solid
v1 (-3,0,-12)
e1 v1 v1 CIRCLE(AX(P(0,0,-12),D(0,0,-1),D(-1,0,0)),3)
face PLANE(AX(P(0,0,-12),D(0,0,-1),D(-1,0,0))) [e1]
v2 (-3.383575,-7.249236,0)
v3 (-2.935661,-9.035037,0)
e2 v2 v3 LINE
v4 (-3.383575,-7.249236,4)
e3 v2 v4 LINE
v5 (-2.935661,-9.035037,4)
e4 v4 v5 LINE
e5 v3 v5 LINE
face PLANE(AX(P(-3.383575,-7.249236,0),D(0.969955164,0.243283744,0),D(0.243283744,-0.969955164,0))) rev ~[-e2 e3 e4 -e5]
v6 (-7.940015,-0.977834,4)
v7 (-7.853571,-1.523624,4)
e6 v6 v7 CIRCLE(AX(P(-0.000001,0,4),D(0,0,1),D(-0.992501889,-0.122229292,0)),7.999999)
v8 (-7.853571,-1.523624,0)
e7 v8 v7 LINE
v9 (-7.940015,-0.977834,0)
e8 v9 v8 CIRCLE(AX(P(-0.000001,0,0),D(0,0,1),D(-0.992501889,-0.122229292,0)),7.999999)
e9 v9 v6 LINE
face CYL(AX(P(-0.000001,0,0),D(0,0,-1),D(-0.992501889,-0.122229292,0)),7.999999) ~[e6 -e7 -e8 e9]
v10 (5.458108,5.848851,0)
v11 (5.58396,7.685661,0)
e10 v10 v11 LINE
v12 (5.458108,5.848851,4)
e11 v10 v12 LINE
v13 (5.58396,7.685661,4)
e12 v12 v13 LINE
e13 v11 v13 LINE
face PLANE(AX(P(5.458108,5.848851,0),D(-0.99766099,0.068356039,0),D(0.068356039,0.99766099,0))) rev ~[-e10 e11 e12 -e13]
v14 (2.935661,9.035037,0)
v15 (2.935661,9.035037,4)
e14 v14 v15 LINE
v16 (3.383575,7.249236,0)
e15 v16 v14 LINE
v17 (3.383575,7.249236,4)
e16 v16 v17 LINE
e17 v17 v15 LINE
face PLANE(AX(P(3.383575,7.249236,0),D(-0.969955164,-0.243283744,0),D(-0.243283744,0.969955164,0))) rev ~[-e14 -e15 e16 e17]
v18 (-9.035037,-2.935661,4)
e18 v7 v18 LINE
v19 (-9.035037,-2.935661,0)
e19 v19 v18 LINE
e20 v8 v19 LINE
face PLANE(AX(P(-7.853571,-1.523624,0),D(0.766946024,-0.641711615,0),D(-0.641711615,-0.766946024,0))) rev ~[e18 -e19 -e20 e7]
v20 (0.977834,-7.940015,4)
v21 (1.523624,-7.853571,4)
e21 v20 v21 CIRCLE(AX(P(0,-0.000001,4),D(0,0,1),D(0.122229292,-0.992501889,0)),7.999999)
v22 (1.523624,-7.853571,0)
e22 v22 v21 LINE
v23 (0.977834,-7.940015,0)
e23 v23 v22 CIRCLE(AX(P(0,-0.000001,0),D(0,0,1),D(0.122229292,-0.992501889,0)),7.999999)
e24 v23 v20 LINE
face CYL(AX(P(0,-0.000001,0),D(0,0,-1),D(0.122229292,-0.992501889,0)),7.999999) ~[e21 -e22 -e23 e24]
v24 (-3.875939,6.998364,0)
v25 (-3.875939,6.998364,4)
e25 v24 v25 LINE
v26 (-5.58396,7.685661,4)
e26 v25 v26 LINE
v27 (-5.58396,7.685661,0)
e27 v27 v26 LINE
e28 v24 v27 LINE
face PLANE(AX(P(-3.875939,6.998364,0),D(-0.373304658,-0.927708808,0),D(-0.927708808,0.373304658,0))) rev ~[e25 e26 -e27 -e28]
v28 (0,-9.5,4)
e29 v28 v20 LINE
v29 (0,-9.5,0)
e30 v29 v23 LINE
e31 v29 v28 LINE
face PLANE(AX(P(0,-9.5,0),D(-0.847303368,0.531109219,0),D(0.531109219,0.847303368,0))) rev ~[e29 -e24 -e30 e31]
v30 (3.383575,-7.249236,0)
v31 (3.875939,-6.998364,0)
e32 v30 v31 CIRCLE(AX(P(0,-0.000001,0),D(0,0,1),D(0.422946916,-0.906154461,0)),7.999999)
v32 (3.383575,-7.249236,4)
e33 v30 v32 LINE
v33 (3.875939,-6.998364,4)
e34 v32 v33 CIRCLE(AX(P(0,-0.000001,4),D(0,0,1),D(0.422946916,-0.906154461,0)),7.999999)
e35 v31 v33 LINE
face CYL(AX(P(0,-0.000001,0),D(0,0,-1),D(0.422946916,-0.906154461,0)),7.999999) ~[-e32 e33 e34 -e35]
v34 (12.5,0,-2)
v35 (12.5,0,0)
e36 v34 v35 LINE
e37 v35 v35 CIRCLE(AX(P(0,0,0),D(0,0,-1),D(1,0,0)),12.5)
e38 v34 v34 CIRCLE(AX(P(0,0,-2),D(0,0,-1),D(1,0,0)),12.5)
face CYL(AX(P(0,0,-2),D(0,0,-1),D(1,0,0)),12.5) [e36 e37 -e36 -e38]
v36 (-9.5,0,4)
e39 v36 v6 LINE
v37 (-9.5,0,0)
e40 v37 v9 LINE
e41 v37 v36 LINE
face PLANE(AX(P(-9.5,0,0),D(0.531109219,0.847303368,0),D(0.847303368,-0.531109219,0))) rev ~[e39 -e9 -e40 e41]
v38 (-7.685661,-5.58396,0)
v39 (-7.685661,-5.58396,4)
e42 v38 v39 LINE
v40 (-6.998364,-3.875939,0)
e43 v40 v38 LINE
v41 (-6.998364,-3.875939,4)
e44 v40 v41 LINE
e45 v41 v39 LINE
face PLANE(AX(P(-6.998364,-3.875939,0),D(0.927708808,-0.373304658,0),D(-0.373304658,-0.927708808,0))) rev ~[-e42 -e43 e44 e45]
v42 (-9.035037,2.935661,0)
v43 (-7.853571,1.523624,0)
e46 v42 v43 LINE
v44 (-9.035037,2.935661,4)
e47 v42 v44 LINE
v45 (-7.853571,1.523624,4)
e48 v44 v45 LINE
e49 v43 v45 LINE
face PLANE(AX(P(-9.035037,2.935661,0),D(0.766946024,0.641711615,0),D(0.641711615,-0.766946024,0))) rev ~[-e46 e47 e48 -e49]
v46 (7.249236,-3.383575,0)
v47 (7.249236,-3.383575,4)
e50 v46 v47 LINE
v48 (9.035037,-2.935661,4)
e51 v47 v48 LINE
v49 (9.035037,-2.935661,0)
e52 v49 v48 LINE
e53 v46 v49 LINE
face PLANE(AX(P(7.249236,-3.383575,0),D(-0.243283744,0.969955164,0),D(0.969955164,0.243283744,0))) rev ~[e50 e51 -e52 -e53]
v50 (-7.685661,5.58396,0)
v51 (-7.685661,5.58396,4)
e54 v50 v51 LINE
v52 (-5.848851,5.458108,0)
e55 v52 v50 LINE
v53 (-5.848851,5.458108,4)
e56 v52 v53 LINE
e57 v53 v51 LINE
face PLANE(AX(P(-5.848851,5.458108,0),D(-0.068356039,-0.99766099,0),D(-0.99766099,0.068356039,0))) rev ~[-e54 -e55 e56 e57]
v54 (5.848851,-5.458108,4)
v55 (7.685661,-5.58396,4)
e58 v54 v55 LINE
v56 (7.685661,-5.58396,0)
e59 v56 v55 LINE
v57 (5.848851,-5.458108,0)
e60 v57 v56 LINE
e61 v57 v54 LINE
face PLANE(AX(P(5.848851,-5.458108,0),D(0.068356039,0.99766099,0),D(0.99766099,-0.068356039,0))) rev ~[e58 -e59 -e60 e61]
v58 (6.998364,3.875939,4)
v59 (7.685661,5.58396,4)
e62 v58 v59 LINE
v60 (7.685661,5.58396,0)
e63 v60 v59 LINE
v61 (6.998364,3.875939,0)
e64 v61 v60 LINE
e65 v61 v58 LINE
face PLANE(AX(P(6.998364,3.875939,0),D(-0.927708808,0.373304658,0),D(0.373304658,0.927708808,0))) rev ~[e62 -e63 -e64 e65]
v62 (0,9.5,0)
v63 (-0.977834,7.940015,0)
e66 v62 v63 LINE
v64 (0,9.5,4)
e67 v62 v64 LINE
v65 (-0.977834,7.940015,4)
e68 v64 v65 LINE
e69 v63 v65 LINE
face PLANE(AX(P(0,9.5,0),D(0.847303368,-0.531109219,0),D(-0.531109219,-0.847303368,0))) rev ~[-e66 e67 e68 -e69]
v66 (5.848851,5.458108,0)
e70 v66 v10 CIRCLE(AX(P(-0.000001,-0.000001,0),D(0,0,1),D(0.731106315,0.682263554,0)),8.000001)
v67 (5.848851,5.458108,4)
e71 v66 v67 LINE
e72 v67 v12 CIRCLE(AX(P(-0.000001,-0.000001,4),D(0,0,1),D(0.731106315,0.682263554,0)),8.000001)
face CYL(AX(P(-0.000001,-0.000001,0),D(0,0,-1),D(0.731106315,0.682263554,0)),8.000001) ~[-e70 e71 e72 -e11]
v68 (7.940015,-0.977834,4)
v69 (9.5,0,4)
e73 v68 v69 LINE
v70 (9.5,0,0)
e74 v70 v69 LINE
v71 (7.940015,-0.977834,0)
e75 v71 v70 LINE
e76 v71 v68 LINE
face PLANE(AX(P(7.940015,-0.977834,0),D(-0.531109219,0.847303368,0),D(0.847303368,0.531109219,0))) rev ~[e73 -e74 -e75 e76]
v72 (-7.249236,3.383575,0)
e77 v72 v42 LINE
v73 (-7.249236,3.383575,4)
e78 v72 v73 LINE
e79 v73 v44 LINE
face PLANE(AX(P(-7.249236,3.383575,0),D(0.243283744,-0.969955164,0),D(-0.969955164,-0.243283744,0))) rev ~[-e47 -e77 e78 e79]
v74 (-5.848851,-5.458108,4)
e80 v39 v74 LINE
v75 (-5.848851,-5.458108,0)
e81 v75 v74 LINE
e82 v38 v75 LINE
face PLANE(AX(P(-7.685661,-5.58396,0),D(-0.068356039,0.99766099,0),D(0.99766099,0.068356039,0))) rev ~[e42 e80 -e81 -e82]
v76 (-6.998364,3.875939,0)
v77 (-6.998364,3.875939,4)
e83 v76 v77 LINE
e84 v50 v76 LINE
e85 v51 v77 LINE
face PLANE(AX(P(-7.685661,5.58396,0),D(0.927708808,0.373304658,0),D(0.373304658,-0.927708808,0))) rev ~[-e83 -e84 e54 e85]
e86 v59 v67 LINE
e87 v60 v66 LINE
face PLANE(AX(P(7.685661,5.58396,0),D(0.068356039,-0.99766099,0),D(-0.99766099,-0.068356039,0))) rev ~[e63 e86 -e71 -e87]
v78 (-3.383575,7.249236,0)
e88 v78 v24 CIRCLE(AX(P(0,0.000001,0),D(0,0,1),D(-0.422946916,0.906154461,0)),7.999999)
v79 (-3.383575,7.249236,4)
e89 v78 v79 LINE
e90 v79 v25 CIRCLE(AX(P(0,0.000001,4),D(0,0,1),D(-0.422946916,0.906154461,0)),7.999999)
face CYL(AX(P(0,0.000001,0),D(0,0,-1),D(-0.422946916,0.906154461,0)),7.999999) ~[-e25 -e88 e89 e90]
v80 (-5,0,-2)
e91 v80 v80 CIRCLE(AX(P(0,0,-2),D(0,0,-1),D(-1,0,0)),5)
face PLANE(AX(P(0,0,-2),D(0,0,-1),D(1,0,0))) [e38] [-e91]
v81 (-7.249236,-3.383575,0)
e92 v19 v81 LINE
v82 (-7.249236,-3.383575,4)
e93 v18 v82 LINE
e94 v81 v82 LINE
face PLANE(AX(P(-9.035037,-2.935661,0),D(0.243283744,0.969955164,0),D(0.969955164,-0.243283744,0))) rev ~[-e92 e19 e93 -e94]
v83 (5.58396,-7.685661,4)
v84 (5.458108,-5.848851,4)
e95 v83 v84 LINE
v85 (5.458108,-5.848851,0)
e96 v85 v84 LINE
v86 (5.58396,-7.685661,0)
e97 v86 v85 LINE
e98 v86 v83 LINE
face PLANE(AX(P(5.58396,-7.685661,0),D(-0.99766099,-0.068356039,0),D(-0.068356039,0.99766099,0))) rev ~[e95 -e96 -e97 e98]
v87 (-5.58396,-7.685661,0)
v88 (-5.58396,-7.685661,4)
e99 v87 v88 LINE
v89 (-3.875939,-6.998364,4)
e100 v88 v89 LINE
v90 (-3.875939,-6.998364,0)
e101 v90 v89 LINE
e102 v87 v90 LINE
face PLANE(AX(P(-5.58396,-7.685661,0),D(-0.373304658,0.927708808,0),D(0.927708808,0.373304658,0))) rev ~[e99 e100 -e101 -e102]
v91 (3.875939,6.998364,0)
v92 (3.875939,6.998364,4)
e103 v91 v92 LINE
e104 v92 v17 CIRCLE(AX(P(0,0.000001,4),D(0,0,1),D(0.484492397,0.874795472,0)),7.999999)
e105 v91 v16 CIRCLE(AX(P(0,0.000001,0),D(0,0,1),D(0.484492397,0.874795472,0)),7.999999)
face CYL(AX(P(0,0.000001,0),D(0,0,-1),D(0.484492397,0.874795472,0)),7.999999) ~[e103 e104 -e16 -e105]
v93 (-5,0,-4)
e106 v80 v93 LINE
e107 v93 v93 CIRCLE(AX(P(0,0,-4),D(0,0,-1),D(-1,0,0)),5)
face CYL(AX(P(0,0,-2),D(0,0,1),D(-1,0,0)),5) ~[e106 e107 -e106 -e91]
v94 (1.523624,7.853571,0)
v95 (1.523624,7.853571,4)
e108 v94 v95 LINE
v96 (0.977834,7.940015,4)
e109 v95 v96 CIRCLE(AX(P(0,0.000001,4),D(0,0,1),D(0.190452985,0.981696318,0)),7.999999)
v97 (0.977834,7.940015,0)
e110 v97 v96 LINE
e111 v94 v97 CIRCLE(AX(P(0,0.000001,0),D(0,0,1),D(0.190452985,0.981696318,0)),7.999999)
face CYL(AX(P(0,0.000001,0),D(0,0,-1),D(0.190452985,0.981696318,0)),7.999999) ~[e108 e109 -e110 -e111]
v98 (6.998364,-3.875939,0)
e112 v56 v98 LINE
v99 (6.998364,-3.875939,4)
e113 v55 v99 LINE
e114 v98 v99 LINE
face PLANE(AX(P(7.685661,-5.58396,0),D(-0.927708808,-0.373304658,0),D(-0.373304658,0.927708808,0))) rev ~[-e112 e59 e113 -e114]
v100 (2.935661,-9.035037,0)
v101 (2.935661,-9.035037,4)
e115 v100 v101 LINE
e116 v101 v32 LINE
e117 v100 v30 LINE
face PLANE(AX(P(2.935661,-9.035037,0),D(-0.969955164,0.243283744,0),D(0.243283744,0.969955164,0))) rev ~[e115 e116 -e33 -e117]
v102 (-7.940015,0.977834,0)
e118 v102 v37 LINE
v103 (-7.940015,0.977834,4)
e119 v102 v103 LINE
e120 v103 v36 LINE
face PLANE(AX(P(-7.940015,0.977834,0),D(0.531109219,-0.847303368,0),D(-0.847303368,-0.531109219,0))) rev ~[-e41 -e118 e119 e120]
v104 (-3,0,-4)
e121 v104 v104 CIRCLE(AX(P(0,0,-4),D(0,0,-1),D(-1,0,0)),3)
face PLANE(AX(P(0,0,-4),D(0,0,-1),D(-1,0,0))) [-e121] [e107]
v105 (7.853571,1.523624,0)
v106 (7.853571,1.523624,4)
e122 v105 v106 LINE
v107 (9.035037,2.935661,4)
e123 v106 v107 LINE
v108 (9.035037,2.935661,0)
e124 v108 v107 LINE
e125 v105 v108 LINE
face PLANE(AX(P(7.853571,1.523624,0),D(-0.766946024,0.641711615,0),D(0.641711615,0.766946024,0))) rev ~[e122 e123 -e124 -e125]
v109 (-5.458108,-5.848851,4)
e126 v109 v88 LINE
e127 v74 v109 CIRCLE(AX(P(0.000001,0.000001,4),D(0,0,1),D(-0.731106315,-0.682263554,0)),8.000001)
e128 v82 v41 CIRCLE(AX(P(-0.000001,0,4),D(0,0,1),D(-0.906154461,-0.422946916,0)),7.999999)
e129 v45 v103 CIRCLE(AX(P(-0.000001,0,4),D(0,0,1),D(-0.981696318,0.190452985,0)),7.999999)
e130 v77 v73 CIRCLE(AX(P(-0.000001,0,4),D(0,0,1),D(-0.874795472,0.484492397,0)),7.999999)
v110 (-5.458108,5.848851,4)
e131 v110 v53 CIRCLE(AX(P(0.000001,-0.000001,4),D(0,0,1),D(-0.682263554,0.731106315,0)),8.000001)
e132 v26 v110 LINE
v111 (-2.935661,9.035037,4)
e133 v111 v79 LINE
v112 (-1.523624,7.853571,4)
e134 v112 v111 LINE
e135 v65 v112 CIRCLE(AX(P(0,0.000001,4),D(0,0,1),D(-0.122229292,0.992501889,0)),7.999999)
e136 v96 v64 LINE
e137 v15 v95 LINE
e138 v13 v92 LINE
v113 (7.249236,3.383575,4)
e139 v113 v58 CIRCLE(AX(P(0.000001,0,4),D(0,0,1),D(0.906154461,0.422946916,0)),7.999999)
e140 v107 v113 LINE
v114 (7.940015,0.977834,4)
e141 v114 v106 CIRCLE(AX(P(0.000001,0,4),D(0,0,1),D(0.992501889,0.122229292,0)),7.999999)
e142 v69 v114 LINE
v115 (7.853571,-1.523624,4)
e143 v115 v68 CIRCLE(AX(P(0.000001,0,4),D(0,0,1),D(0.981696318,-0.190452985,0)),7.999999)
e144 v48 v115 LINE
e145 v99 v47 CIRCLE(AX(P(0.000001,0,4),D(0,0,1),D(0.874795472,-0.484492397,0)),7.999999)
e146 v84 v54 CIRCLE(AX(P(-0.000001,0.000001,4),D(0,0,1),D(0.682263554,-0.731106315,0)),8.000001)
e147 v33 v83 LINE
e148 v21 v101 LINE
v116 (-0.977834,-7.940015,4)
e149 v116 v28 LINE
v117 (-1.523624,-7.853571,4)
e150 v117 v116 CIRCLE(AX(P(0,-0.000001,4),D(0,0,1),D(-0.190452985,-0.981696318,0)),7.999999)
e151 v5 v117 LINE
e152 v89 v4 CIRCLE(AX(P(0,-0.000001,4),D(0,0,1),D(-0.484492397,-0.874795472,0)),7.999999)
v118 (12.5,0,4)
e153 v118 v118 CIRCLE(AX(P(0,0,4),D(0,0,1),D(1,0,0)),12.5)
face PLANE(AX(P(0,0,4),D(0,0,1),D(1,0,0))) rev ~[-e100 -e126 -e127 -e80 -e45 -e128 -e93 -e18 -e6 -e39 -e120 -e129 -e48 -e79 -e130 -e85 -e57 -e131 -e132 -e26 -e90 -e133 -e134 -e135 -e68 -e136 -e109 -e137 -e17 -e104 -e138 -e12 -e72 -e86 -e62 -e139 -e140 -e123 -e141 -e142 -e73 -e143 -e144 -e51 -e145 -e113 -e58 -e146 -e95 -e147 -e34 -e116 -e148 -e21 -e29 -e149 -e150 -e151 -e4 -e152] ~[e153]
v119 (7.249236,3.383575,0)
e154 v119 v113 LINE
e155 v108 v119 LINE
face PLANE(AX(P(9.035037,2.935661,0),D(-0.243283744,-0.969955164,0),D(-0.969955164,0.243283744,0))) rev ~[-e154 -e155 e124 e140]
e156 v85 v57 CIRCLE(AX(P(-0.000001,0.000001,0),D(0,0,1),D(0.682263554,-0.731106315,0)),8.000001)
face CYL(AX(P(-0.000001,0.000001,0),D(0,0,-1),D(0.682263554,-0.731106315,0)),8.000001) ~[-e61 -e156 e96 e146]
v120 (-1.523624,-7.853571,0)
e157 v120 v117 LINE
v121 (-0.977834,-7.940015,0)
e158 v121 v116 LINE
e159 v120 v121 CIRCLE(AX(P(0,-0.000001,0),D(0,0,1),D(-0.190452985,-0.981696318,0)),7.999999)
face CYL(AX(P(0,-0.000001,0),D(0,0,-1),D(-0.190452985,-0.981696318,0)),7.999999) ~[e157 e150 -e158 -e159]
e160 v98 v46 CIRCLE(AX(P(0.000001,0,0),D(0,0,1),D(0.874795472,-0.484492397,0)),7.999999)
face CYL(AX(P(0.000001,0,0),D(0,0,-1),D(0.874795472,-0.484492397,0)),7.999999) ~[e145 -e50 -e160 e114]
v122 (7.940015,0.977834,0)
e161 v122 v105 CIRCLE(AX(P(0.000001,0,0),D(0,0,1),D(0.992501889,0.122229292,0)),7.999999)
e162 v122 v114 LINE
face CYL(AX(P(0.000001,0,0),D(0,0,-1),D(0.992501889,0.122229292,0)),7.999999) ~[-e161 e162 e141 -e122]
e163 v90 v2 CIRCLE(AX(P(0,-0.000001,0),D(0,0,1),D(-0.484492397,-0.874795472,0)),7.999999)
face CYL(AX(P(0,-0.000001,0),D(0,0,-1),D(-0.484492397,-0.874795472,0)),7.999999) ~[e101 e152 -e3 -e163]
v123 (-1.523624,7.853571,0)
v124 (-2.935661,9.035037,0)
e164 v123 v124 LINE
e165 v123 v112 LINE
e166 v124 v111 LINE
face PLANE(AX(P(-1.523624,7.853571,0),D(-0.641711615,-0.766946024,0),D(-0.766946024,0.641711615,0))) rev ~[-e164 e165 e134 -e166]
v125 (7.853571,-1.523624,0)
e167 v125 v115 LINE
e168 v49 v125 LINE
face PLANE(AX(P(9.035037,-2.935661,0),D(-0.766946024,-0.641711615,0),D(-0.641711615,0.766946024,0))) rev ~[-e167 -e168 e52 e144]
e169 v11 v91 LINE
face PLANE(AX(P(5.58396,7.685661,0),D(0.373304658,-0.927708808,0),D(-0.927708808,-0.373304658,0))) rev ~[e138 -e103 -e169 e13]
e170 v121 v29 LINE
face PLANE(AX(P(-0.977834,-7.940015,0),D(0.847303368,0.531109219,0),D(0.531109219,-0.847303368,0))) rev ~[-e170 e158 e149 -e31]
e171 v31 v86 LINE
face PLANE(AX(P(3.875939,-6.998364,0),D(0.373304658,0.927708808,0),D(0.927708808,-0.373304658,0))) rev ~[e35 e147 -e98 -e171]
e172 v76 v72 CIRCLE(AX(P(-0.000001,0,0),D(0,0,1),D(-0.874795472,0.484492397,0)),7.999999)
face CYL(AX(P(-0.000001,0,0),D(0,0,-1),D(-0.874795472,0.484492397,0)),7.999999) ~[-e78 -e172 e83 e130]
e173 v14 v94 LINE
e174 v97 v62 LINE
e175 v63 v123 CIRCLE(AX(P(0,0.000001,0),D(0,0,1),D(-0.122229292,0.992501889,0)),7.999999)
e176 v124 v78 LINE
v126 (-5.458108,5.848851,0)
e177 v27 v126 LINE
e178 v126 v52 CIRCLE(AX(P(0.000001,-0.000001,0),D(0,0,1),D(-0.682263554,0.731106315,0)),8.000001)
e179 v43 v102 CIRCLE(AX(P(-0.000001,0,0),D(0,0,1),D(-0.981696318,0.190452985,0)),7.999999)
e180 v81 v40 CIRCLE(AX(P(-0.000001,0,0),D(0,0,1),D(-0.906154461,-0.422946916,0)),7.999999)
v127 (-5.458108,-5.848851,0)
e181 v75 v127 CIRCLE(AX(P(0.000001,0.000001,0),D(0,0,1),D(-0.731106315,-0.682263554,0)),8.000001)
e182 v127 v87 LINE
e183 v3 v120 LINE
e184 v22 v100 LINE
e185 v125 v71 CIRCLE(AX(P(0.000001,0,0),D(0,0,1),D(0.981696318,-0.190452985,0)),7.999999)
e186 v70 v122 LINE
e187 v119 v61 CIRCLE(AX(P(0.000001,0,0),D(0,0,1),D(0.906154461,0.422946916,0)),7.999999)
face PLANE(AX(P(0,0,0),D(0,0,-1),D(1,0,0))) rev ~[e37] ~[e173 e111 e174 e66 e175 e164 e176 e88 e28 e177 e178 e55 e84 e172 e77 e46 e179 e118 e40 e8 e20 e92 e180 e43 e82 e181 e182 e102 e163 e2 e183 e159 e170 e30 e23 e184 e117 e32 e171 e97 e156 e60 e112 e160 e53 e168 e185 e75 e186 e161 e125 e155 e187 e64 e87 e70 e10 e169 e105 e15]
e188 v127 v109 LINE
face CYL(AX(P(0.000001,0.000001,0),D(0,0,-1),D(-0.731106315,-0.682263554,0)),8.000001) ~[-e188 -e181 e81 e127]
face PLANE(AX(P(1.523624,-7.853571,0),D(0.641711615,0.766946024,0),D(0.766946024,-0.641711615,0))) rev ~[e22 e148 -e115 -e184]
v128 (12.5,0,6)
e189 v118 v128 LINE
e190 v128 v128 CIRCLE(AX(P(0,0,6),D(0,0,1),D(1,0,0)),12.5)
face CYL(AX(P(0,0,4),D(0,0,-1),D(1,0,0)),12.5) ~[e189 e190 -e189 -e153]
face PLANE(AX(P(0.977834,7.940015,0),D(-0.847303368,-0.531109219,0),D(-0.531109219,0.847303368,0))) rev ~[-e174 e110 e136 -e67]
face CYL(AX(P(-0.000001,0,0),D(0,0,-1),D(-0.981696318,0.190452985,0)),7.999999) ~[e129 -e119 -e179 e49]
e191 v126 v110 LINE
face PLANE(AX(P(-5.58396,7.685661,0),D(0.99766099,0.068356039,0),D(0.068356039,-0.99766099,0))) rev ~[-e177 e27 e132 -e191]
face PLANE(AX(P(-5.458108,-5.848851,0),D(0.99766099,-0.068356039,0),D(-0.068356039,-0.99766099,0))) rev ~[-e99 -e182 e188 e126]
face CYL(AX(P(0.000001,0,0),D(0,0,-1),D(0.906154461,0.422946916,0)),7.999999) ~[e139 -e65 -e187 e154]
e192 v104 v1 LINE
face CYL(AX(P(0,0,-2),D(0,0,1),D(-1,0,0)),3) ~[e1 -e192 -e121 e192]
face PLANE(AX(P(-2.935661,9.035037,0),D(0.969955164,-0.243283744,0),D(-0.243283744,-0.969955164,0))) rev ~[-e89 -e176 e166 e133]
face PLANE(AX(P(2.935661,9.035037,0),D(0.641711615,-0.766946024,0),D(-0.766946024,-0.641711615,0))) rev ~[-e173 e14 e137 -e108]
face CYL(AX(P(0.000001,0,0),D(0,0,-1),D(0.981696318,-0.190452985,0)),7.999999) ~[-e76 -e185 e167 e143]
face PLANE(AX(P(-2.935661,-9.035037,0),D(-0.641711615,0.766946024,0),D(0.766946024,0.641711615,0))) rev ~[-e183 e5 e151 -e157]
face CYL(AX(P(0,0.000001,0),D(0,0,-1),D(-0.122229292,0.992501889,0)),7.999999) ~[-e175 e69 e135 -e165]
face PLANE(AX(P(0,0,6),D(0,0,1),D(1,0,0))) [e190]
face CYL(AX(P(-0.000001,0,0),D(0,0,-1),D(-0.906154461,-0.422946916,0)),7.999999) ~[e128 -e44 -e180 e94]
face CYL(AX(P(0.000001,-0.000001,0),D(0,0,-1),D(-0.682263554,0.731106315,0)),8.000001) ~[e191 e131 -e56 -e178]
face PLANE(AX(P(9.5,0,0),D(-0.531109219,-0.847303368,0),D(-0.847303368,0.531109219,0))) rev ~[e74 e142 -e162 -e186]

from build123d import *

# Parameters (mm, degrees)
BOSS_EXTRUDE1_DEPTH = 4
SKETCH3_R           = 12.5
BOSS_EXTRUDE2_DEPTH = 2
BOSS_EXTRUDE3_START = 2
SKETCH4_R           = 12.5
BOSS_EXTRUDE3_DEPTH = 2
SKETCH5_R           = 3
BOSS_EXTRUDE4_DEPTH = 10
SKETCH6_R           = 5
SKETCH6_R_2         = 3
BOSS_EXTRUDE5_DEPTH = 2


with BuildPart() as part:
    # Sketch2 → Boss-Extrude1 (new body)
    with BuildSketch(Plane.XY):
        with BuildLine():
            Line((0, 9.5), (-0.977834373, 7.940015109))
            ThreePointArc((-0.977834373, 7.940015109), (-1.25147572, 7.901506725), (-1.523623852, 7.853570548))
            Line((-1.523623852, 7.853570548), (-2.935661447, 9.035036905))
            Line((-2.935661447, 9.035036905), (-3.383575357, 7.24923567))
            ThreePointArc((-3.383575357, 7.24923567), (-3.631923998, 7.128052194), (-3.875939159, 6.998363783))
            Line((-3.875939159, 6.998363783), (-5.583959897, 7.685661447))
            Line((-5.583959897, 7.685661447), (-5.45810841, 5.848850535))
            ThreePointArc((-5.45810841, 5.848850535), (-5.656854249, 5.656854249), (-5.848850535, 5.45810841))
            Line((-5.848850535, 5.45810841), (-7.685661447, 5.583959897))
            Line((-7.685661447, 5.583959897), (-6.998363783, 3.875939159))
            ThreePointArc((-6.998363783, 3.875939159), (-7.128052194, 3.631923998), (-7.24923567, 3.383575357))
            Line((-7.24923567, 3.383575357), (-9.035036905, 2.935661447))
            Line((-9.035036905, 2.935661447), (-7.853570548, 1.523623852))
            ThreePointArc((-7.853570548, 1.523623852), (-7.901506725, 1.25147572), (-7.940015109, 0.977834373))
            Line((-7.940015109, 0.977834373), (-9.5, 0))
            Line((-9.5, 0), (-7.940015109, -0.977834373))
            ThreePointArc((-7.940015109, -0.977834373), (-7.901506725, -1.25147572), (-7.853570548, -1.523623852))
            Line((-7.853570548, -1.523623852), (-9.035036905, -2.935661447))
            Line((-9.035036905, -2.935661447), (-7.24923567, -3.383575357))
            ThreePointArc((-7.24923567, -3.383575357), (-7.128052194, -3.631923998), (-6.998363783, -3.875939159))
            Line((-6.998363783, -3.875939159), (-7.685661447, -5.583959897))
            Line((-7.685661447, -5.583959897), (-5.848850535, -5.45810841))
            ThreePointArc((-5.848850535, -5.45810841), (-5.656854249, -5.656854249), (-5.45810841, -5.848850535))
            Line((-5.45810841, -5.848850535), (-5.583959897, -7.685661447))
            Line((-5.583959897, -7.685661447), (-3.875939159, -6.998363783))
            ThreePointArc((-3.875939159, -6.998363783), (-3.631923998, -7.128052194), (-3.383575357, -7.24923567))
            Line((-3.383575357, -7.24923567), (-2.935661447, -9.035036905))
            Line((-2.935661447, -9.035036905), (-1.523623852, -7.853570548))
            ThreePointArc((-1.523623852, -7.853570548), (-1.25147572, -7.901506725), (-0.977834373, -7.940015109))
            Line((-0.977834373, -7.940015109), (0, -9.5))
            Line((0, -9.5), (0.977834373, -7.940015109))
            ThreePointArc((0.977834373, -7.940015109), (1.25147572, -7.901506725), (1.523623852, -7.853570548))
            Line((1.523623852, -7.853570548), (2.935661447, -9.035036905))
            Line((2.935661447, -9.035036905), (3.383575357, -7.24923567))
            ThreePointArc((3.383575357, -7.24923567), (3.631923998, -7.128052194), (3.875939159, -6.998363783))
            Line((3.875939159, -6.998363783), (5.583959897, -7.685661447))
            Line((5.583959897, -7.685661447), (5.45810841, -5.848850535))
            ThreePointArc((5.45810841, -5.848850535), (5.656854249, -5.656854249), (5.848850535, -5.45810841))
            Line((5.848850535, -5.45810841), (7.685661447, -5.583959897))
            Line((7.685661447, -5.583959897), (6.998363783, -3.875939159))
            ThreePointArc((6.998363783, -3.875939159), (7.128052194, -3.631923998), (7.24923567, -3.383575357))
            Line((7.24923567, -3.383575357), (9.035036905, -2.935661447))
            Line((9.035036905, -2.935661447), (7.853570548, -1.523623852))
            ThreePointArc((7.853570548, -1.523623852), (7.901506725, -1.25147572), (7.940015109, -0.977834373))
            Line((7.940015109, -0.977834373), (9.5, 0))
            Line((9.5, 0), (7.940015109, 0.977834373))
            ThreePointArc((7.940015109, 0.977834373), (7.901506725, 1.25147572), (7.853570548, 1.523623852))
            Line((7.853570548, 1.523623852), (9.035036905, 2.935661447))
            Line((9.035036905, 2.935661447), (7.24923567, 3.383575357))
            ThreePointArc((7.24923567, 3.383575357), (7.128052194, 3.631923998), (6.998363783, 3.875939159))
            Line((6.998363783, 3.875939159), (7.685661447, 5.583959897))
            Line((7.685661447, 5.583959897), (5.848850535, 5.45810841))
            ThreePointArc((5.848850535, 5.45810841), (5.656854249, 5.656854249), (5.45810841, 5.848850535))
            Line((5.45810841, 5.848850535), (5.583959897, 7.685661447))
            Line((5.583959897, 7.685661447), (3.875939159, 6.998363783))
            ThreePointArc((3.875939159, 6.998363783), (3.631923998, 7.128052194), (3.383575357, 7.24923567))
            Line((3.383575357, 7.24923567), (2.935661447, 9.035036905))
            Line((2.935661447, 9.035036905), (1.523623852, 7.853570548))
            ThreePointArc((1.523623852, 7.853570548), (1.25147572, 7.901506725), (0.977834373, 7.940015109))
            Line((0.977834373, 7.940015109), (0, 9.5))
        make_face()
    extrude(amount=BOSS_EXTRUDE1_DEPTH)

    # Sketch3 → Boss-Extrude2 (add)
    with BuildSketch(Plane.XY.offset(4)):
        Circle(SKETCH3_R)
    extrude(amount=BOSS_EXTRUDE2_DEPTH)

    # Sketch4 → Boss-Extrude3 (add)
    with BuildSketch(Plane(origin=(0, 0, 0), x_dir=(-1, 0, 0), z_dir=(0, 0, -1)).offset(BOSS_EXTRUDE3_START)):
        with Locations(Location((0, 0, 0), (0, 0, 180))):
            Circle(SKETCH4_R)
    extrude(amount=-BOSS_EXTRUDE3_DEPTH)

    # Sketch5 → Boss-Extrude4 (add)
    with BuildSketch(Plane(origin=(0, 0, -2), x_dir=(-1, 0, 0), z_dir=(0, 0, -1))):
        Circle(SKETCH5_R)
    extrude(amount=BOSS_EXTRUDE4_DEPTH)

    # Sketch6 → Boss-Extrude5 (add)
    with BuildSketch(Plane(origin=(0, 0, -2), x_dir=(-1, 0, 0), z_dir=(0, 0, -1))):
        Circle(SKETCH6_R)
        Circle(SKETCH6_R_2, mode=Mode.SUBTRACT)
    extrude(amount=BOSS_EXTRUDE5_DEPTH)


solid = part.part
